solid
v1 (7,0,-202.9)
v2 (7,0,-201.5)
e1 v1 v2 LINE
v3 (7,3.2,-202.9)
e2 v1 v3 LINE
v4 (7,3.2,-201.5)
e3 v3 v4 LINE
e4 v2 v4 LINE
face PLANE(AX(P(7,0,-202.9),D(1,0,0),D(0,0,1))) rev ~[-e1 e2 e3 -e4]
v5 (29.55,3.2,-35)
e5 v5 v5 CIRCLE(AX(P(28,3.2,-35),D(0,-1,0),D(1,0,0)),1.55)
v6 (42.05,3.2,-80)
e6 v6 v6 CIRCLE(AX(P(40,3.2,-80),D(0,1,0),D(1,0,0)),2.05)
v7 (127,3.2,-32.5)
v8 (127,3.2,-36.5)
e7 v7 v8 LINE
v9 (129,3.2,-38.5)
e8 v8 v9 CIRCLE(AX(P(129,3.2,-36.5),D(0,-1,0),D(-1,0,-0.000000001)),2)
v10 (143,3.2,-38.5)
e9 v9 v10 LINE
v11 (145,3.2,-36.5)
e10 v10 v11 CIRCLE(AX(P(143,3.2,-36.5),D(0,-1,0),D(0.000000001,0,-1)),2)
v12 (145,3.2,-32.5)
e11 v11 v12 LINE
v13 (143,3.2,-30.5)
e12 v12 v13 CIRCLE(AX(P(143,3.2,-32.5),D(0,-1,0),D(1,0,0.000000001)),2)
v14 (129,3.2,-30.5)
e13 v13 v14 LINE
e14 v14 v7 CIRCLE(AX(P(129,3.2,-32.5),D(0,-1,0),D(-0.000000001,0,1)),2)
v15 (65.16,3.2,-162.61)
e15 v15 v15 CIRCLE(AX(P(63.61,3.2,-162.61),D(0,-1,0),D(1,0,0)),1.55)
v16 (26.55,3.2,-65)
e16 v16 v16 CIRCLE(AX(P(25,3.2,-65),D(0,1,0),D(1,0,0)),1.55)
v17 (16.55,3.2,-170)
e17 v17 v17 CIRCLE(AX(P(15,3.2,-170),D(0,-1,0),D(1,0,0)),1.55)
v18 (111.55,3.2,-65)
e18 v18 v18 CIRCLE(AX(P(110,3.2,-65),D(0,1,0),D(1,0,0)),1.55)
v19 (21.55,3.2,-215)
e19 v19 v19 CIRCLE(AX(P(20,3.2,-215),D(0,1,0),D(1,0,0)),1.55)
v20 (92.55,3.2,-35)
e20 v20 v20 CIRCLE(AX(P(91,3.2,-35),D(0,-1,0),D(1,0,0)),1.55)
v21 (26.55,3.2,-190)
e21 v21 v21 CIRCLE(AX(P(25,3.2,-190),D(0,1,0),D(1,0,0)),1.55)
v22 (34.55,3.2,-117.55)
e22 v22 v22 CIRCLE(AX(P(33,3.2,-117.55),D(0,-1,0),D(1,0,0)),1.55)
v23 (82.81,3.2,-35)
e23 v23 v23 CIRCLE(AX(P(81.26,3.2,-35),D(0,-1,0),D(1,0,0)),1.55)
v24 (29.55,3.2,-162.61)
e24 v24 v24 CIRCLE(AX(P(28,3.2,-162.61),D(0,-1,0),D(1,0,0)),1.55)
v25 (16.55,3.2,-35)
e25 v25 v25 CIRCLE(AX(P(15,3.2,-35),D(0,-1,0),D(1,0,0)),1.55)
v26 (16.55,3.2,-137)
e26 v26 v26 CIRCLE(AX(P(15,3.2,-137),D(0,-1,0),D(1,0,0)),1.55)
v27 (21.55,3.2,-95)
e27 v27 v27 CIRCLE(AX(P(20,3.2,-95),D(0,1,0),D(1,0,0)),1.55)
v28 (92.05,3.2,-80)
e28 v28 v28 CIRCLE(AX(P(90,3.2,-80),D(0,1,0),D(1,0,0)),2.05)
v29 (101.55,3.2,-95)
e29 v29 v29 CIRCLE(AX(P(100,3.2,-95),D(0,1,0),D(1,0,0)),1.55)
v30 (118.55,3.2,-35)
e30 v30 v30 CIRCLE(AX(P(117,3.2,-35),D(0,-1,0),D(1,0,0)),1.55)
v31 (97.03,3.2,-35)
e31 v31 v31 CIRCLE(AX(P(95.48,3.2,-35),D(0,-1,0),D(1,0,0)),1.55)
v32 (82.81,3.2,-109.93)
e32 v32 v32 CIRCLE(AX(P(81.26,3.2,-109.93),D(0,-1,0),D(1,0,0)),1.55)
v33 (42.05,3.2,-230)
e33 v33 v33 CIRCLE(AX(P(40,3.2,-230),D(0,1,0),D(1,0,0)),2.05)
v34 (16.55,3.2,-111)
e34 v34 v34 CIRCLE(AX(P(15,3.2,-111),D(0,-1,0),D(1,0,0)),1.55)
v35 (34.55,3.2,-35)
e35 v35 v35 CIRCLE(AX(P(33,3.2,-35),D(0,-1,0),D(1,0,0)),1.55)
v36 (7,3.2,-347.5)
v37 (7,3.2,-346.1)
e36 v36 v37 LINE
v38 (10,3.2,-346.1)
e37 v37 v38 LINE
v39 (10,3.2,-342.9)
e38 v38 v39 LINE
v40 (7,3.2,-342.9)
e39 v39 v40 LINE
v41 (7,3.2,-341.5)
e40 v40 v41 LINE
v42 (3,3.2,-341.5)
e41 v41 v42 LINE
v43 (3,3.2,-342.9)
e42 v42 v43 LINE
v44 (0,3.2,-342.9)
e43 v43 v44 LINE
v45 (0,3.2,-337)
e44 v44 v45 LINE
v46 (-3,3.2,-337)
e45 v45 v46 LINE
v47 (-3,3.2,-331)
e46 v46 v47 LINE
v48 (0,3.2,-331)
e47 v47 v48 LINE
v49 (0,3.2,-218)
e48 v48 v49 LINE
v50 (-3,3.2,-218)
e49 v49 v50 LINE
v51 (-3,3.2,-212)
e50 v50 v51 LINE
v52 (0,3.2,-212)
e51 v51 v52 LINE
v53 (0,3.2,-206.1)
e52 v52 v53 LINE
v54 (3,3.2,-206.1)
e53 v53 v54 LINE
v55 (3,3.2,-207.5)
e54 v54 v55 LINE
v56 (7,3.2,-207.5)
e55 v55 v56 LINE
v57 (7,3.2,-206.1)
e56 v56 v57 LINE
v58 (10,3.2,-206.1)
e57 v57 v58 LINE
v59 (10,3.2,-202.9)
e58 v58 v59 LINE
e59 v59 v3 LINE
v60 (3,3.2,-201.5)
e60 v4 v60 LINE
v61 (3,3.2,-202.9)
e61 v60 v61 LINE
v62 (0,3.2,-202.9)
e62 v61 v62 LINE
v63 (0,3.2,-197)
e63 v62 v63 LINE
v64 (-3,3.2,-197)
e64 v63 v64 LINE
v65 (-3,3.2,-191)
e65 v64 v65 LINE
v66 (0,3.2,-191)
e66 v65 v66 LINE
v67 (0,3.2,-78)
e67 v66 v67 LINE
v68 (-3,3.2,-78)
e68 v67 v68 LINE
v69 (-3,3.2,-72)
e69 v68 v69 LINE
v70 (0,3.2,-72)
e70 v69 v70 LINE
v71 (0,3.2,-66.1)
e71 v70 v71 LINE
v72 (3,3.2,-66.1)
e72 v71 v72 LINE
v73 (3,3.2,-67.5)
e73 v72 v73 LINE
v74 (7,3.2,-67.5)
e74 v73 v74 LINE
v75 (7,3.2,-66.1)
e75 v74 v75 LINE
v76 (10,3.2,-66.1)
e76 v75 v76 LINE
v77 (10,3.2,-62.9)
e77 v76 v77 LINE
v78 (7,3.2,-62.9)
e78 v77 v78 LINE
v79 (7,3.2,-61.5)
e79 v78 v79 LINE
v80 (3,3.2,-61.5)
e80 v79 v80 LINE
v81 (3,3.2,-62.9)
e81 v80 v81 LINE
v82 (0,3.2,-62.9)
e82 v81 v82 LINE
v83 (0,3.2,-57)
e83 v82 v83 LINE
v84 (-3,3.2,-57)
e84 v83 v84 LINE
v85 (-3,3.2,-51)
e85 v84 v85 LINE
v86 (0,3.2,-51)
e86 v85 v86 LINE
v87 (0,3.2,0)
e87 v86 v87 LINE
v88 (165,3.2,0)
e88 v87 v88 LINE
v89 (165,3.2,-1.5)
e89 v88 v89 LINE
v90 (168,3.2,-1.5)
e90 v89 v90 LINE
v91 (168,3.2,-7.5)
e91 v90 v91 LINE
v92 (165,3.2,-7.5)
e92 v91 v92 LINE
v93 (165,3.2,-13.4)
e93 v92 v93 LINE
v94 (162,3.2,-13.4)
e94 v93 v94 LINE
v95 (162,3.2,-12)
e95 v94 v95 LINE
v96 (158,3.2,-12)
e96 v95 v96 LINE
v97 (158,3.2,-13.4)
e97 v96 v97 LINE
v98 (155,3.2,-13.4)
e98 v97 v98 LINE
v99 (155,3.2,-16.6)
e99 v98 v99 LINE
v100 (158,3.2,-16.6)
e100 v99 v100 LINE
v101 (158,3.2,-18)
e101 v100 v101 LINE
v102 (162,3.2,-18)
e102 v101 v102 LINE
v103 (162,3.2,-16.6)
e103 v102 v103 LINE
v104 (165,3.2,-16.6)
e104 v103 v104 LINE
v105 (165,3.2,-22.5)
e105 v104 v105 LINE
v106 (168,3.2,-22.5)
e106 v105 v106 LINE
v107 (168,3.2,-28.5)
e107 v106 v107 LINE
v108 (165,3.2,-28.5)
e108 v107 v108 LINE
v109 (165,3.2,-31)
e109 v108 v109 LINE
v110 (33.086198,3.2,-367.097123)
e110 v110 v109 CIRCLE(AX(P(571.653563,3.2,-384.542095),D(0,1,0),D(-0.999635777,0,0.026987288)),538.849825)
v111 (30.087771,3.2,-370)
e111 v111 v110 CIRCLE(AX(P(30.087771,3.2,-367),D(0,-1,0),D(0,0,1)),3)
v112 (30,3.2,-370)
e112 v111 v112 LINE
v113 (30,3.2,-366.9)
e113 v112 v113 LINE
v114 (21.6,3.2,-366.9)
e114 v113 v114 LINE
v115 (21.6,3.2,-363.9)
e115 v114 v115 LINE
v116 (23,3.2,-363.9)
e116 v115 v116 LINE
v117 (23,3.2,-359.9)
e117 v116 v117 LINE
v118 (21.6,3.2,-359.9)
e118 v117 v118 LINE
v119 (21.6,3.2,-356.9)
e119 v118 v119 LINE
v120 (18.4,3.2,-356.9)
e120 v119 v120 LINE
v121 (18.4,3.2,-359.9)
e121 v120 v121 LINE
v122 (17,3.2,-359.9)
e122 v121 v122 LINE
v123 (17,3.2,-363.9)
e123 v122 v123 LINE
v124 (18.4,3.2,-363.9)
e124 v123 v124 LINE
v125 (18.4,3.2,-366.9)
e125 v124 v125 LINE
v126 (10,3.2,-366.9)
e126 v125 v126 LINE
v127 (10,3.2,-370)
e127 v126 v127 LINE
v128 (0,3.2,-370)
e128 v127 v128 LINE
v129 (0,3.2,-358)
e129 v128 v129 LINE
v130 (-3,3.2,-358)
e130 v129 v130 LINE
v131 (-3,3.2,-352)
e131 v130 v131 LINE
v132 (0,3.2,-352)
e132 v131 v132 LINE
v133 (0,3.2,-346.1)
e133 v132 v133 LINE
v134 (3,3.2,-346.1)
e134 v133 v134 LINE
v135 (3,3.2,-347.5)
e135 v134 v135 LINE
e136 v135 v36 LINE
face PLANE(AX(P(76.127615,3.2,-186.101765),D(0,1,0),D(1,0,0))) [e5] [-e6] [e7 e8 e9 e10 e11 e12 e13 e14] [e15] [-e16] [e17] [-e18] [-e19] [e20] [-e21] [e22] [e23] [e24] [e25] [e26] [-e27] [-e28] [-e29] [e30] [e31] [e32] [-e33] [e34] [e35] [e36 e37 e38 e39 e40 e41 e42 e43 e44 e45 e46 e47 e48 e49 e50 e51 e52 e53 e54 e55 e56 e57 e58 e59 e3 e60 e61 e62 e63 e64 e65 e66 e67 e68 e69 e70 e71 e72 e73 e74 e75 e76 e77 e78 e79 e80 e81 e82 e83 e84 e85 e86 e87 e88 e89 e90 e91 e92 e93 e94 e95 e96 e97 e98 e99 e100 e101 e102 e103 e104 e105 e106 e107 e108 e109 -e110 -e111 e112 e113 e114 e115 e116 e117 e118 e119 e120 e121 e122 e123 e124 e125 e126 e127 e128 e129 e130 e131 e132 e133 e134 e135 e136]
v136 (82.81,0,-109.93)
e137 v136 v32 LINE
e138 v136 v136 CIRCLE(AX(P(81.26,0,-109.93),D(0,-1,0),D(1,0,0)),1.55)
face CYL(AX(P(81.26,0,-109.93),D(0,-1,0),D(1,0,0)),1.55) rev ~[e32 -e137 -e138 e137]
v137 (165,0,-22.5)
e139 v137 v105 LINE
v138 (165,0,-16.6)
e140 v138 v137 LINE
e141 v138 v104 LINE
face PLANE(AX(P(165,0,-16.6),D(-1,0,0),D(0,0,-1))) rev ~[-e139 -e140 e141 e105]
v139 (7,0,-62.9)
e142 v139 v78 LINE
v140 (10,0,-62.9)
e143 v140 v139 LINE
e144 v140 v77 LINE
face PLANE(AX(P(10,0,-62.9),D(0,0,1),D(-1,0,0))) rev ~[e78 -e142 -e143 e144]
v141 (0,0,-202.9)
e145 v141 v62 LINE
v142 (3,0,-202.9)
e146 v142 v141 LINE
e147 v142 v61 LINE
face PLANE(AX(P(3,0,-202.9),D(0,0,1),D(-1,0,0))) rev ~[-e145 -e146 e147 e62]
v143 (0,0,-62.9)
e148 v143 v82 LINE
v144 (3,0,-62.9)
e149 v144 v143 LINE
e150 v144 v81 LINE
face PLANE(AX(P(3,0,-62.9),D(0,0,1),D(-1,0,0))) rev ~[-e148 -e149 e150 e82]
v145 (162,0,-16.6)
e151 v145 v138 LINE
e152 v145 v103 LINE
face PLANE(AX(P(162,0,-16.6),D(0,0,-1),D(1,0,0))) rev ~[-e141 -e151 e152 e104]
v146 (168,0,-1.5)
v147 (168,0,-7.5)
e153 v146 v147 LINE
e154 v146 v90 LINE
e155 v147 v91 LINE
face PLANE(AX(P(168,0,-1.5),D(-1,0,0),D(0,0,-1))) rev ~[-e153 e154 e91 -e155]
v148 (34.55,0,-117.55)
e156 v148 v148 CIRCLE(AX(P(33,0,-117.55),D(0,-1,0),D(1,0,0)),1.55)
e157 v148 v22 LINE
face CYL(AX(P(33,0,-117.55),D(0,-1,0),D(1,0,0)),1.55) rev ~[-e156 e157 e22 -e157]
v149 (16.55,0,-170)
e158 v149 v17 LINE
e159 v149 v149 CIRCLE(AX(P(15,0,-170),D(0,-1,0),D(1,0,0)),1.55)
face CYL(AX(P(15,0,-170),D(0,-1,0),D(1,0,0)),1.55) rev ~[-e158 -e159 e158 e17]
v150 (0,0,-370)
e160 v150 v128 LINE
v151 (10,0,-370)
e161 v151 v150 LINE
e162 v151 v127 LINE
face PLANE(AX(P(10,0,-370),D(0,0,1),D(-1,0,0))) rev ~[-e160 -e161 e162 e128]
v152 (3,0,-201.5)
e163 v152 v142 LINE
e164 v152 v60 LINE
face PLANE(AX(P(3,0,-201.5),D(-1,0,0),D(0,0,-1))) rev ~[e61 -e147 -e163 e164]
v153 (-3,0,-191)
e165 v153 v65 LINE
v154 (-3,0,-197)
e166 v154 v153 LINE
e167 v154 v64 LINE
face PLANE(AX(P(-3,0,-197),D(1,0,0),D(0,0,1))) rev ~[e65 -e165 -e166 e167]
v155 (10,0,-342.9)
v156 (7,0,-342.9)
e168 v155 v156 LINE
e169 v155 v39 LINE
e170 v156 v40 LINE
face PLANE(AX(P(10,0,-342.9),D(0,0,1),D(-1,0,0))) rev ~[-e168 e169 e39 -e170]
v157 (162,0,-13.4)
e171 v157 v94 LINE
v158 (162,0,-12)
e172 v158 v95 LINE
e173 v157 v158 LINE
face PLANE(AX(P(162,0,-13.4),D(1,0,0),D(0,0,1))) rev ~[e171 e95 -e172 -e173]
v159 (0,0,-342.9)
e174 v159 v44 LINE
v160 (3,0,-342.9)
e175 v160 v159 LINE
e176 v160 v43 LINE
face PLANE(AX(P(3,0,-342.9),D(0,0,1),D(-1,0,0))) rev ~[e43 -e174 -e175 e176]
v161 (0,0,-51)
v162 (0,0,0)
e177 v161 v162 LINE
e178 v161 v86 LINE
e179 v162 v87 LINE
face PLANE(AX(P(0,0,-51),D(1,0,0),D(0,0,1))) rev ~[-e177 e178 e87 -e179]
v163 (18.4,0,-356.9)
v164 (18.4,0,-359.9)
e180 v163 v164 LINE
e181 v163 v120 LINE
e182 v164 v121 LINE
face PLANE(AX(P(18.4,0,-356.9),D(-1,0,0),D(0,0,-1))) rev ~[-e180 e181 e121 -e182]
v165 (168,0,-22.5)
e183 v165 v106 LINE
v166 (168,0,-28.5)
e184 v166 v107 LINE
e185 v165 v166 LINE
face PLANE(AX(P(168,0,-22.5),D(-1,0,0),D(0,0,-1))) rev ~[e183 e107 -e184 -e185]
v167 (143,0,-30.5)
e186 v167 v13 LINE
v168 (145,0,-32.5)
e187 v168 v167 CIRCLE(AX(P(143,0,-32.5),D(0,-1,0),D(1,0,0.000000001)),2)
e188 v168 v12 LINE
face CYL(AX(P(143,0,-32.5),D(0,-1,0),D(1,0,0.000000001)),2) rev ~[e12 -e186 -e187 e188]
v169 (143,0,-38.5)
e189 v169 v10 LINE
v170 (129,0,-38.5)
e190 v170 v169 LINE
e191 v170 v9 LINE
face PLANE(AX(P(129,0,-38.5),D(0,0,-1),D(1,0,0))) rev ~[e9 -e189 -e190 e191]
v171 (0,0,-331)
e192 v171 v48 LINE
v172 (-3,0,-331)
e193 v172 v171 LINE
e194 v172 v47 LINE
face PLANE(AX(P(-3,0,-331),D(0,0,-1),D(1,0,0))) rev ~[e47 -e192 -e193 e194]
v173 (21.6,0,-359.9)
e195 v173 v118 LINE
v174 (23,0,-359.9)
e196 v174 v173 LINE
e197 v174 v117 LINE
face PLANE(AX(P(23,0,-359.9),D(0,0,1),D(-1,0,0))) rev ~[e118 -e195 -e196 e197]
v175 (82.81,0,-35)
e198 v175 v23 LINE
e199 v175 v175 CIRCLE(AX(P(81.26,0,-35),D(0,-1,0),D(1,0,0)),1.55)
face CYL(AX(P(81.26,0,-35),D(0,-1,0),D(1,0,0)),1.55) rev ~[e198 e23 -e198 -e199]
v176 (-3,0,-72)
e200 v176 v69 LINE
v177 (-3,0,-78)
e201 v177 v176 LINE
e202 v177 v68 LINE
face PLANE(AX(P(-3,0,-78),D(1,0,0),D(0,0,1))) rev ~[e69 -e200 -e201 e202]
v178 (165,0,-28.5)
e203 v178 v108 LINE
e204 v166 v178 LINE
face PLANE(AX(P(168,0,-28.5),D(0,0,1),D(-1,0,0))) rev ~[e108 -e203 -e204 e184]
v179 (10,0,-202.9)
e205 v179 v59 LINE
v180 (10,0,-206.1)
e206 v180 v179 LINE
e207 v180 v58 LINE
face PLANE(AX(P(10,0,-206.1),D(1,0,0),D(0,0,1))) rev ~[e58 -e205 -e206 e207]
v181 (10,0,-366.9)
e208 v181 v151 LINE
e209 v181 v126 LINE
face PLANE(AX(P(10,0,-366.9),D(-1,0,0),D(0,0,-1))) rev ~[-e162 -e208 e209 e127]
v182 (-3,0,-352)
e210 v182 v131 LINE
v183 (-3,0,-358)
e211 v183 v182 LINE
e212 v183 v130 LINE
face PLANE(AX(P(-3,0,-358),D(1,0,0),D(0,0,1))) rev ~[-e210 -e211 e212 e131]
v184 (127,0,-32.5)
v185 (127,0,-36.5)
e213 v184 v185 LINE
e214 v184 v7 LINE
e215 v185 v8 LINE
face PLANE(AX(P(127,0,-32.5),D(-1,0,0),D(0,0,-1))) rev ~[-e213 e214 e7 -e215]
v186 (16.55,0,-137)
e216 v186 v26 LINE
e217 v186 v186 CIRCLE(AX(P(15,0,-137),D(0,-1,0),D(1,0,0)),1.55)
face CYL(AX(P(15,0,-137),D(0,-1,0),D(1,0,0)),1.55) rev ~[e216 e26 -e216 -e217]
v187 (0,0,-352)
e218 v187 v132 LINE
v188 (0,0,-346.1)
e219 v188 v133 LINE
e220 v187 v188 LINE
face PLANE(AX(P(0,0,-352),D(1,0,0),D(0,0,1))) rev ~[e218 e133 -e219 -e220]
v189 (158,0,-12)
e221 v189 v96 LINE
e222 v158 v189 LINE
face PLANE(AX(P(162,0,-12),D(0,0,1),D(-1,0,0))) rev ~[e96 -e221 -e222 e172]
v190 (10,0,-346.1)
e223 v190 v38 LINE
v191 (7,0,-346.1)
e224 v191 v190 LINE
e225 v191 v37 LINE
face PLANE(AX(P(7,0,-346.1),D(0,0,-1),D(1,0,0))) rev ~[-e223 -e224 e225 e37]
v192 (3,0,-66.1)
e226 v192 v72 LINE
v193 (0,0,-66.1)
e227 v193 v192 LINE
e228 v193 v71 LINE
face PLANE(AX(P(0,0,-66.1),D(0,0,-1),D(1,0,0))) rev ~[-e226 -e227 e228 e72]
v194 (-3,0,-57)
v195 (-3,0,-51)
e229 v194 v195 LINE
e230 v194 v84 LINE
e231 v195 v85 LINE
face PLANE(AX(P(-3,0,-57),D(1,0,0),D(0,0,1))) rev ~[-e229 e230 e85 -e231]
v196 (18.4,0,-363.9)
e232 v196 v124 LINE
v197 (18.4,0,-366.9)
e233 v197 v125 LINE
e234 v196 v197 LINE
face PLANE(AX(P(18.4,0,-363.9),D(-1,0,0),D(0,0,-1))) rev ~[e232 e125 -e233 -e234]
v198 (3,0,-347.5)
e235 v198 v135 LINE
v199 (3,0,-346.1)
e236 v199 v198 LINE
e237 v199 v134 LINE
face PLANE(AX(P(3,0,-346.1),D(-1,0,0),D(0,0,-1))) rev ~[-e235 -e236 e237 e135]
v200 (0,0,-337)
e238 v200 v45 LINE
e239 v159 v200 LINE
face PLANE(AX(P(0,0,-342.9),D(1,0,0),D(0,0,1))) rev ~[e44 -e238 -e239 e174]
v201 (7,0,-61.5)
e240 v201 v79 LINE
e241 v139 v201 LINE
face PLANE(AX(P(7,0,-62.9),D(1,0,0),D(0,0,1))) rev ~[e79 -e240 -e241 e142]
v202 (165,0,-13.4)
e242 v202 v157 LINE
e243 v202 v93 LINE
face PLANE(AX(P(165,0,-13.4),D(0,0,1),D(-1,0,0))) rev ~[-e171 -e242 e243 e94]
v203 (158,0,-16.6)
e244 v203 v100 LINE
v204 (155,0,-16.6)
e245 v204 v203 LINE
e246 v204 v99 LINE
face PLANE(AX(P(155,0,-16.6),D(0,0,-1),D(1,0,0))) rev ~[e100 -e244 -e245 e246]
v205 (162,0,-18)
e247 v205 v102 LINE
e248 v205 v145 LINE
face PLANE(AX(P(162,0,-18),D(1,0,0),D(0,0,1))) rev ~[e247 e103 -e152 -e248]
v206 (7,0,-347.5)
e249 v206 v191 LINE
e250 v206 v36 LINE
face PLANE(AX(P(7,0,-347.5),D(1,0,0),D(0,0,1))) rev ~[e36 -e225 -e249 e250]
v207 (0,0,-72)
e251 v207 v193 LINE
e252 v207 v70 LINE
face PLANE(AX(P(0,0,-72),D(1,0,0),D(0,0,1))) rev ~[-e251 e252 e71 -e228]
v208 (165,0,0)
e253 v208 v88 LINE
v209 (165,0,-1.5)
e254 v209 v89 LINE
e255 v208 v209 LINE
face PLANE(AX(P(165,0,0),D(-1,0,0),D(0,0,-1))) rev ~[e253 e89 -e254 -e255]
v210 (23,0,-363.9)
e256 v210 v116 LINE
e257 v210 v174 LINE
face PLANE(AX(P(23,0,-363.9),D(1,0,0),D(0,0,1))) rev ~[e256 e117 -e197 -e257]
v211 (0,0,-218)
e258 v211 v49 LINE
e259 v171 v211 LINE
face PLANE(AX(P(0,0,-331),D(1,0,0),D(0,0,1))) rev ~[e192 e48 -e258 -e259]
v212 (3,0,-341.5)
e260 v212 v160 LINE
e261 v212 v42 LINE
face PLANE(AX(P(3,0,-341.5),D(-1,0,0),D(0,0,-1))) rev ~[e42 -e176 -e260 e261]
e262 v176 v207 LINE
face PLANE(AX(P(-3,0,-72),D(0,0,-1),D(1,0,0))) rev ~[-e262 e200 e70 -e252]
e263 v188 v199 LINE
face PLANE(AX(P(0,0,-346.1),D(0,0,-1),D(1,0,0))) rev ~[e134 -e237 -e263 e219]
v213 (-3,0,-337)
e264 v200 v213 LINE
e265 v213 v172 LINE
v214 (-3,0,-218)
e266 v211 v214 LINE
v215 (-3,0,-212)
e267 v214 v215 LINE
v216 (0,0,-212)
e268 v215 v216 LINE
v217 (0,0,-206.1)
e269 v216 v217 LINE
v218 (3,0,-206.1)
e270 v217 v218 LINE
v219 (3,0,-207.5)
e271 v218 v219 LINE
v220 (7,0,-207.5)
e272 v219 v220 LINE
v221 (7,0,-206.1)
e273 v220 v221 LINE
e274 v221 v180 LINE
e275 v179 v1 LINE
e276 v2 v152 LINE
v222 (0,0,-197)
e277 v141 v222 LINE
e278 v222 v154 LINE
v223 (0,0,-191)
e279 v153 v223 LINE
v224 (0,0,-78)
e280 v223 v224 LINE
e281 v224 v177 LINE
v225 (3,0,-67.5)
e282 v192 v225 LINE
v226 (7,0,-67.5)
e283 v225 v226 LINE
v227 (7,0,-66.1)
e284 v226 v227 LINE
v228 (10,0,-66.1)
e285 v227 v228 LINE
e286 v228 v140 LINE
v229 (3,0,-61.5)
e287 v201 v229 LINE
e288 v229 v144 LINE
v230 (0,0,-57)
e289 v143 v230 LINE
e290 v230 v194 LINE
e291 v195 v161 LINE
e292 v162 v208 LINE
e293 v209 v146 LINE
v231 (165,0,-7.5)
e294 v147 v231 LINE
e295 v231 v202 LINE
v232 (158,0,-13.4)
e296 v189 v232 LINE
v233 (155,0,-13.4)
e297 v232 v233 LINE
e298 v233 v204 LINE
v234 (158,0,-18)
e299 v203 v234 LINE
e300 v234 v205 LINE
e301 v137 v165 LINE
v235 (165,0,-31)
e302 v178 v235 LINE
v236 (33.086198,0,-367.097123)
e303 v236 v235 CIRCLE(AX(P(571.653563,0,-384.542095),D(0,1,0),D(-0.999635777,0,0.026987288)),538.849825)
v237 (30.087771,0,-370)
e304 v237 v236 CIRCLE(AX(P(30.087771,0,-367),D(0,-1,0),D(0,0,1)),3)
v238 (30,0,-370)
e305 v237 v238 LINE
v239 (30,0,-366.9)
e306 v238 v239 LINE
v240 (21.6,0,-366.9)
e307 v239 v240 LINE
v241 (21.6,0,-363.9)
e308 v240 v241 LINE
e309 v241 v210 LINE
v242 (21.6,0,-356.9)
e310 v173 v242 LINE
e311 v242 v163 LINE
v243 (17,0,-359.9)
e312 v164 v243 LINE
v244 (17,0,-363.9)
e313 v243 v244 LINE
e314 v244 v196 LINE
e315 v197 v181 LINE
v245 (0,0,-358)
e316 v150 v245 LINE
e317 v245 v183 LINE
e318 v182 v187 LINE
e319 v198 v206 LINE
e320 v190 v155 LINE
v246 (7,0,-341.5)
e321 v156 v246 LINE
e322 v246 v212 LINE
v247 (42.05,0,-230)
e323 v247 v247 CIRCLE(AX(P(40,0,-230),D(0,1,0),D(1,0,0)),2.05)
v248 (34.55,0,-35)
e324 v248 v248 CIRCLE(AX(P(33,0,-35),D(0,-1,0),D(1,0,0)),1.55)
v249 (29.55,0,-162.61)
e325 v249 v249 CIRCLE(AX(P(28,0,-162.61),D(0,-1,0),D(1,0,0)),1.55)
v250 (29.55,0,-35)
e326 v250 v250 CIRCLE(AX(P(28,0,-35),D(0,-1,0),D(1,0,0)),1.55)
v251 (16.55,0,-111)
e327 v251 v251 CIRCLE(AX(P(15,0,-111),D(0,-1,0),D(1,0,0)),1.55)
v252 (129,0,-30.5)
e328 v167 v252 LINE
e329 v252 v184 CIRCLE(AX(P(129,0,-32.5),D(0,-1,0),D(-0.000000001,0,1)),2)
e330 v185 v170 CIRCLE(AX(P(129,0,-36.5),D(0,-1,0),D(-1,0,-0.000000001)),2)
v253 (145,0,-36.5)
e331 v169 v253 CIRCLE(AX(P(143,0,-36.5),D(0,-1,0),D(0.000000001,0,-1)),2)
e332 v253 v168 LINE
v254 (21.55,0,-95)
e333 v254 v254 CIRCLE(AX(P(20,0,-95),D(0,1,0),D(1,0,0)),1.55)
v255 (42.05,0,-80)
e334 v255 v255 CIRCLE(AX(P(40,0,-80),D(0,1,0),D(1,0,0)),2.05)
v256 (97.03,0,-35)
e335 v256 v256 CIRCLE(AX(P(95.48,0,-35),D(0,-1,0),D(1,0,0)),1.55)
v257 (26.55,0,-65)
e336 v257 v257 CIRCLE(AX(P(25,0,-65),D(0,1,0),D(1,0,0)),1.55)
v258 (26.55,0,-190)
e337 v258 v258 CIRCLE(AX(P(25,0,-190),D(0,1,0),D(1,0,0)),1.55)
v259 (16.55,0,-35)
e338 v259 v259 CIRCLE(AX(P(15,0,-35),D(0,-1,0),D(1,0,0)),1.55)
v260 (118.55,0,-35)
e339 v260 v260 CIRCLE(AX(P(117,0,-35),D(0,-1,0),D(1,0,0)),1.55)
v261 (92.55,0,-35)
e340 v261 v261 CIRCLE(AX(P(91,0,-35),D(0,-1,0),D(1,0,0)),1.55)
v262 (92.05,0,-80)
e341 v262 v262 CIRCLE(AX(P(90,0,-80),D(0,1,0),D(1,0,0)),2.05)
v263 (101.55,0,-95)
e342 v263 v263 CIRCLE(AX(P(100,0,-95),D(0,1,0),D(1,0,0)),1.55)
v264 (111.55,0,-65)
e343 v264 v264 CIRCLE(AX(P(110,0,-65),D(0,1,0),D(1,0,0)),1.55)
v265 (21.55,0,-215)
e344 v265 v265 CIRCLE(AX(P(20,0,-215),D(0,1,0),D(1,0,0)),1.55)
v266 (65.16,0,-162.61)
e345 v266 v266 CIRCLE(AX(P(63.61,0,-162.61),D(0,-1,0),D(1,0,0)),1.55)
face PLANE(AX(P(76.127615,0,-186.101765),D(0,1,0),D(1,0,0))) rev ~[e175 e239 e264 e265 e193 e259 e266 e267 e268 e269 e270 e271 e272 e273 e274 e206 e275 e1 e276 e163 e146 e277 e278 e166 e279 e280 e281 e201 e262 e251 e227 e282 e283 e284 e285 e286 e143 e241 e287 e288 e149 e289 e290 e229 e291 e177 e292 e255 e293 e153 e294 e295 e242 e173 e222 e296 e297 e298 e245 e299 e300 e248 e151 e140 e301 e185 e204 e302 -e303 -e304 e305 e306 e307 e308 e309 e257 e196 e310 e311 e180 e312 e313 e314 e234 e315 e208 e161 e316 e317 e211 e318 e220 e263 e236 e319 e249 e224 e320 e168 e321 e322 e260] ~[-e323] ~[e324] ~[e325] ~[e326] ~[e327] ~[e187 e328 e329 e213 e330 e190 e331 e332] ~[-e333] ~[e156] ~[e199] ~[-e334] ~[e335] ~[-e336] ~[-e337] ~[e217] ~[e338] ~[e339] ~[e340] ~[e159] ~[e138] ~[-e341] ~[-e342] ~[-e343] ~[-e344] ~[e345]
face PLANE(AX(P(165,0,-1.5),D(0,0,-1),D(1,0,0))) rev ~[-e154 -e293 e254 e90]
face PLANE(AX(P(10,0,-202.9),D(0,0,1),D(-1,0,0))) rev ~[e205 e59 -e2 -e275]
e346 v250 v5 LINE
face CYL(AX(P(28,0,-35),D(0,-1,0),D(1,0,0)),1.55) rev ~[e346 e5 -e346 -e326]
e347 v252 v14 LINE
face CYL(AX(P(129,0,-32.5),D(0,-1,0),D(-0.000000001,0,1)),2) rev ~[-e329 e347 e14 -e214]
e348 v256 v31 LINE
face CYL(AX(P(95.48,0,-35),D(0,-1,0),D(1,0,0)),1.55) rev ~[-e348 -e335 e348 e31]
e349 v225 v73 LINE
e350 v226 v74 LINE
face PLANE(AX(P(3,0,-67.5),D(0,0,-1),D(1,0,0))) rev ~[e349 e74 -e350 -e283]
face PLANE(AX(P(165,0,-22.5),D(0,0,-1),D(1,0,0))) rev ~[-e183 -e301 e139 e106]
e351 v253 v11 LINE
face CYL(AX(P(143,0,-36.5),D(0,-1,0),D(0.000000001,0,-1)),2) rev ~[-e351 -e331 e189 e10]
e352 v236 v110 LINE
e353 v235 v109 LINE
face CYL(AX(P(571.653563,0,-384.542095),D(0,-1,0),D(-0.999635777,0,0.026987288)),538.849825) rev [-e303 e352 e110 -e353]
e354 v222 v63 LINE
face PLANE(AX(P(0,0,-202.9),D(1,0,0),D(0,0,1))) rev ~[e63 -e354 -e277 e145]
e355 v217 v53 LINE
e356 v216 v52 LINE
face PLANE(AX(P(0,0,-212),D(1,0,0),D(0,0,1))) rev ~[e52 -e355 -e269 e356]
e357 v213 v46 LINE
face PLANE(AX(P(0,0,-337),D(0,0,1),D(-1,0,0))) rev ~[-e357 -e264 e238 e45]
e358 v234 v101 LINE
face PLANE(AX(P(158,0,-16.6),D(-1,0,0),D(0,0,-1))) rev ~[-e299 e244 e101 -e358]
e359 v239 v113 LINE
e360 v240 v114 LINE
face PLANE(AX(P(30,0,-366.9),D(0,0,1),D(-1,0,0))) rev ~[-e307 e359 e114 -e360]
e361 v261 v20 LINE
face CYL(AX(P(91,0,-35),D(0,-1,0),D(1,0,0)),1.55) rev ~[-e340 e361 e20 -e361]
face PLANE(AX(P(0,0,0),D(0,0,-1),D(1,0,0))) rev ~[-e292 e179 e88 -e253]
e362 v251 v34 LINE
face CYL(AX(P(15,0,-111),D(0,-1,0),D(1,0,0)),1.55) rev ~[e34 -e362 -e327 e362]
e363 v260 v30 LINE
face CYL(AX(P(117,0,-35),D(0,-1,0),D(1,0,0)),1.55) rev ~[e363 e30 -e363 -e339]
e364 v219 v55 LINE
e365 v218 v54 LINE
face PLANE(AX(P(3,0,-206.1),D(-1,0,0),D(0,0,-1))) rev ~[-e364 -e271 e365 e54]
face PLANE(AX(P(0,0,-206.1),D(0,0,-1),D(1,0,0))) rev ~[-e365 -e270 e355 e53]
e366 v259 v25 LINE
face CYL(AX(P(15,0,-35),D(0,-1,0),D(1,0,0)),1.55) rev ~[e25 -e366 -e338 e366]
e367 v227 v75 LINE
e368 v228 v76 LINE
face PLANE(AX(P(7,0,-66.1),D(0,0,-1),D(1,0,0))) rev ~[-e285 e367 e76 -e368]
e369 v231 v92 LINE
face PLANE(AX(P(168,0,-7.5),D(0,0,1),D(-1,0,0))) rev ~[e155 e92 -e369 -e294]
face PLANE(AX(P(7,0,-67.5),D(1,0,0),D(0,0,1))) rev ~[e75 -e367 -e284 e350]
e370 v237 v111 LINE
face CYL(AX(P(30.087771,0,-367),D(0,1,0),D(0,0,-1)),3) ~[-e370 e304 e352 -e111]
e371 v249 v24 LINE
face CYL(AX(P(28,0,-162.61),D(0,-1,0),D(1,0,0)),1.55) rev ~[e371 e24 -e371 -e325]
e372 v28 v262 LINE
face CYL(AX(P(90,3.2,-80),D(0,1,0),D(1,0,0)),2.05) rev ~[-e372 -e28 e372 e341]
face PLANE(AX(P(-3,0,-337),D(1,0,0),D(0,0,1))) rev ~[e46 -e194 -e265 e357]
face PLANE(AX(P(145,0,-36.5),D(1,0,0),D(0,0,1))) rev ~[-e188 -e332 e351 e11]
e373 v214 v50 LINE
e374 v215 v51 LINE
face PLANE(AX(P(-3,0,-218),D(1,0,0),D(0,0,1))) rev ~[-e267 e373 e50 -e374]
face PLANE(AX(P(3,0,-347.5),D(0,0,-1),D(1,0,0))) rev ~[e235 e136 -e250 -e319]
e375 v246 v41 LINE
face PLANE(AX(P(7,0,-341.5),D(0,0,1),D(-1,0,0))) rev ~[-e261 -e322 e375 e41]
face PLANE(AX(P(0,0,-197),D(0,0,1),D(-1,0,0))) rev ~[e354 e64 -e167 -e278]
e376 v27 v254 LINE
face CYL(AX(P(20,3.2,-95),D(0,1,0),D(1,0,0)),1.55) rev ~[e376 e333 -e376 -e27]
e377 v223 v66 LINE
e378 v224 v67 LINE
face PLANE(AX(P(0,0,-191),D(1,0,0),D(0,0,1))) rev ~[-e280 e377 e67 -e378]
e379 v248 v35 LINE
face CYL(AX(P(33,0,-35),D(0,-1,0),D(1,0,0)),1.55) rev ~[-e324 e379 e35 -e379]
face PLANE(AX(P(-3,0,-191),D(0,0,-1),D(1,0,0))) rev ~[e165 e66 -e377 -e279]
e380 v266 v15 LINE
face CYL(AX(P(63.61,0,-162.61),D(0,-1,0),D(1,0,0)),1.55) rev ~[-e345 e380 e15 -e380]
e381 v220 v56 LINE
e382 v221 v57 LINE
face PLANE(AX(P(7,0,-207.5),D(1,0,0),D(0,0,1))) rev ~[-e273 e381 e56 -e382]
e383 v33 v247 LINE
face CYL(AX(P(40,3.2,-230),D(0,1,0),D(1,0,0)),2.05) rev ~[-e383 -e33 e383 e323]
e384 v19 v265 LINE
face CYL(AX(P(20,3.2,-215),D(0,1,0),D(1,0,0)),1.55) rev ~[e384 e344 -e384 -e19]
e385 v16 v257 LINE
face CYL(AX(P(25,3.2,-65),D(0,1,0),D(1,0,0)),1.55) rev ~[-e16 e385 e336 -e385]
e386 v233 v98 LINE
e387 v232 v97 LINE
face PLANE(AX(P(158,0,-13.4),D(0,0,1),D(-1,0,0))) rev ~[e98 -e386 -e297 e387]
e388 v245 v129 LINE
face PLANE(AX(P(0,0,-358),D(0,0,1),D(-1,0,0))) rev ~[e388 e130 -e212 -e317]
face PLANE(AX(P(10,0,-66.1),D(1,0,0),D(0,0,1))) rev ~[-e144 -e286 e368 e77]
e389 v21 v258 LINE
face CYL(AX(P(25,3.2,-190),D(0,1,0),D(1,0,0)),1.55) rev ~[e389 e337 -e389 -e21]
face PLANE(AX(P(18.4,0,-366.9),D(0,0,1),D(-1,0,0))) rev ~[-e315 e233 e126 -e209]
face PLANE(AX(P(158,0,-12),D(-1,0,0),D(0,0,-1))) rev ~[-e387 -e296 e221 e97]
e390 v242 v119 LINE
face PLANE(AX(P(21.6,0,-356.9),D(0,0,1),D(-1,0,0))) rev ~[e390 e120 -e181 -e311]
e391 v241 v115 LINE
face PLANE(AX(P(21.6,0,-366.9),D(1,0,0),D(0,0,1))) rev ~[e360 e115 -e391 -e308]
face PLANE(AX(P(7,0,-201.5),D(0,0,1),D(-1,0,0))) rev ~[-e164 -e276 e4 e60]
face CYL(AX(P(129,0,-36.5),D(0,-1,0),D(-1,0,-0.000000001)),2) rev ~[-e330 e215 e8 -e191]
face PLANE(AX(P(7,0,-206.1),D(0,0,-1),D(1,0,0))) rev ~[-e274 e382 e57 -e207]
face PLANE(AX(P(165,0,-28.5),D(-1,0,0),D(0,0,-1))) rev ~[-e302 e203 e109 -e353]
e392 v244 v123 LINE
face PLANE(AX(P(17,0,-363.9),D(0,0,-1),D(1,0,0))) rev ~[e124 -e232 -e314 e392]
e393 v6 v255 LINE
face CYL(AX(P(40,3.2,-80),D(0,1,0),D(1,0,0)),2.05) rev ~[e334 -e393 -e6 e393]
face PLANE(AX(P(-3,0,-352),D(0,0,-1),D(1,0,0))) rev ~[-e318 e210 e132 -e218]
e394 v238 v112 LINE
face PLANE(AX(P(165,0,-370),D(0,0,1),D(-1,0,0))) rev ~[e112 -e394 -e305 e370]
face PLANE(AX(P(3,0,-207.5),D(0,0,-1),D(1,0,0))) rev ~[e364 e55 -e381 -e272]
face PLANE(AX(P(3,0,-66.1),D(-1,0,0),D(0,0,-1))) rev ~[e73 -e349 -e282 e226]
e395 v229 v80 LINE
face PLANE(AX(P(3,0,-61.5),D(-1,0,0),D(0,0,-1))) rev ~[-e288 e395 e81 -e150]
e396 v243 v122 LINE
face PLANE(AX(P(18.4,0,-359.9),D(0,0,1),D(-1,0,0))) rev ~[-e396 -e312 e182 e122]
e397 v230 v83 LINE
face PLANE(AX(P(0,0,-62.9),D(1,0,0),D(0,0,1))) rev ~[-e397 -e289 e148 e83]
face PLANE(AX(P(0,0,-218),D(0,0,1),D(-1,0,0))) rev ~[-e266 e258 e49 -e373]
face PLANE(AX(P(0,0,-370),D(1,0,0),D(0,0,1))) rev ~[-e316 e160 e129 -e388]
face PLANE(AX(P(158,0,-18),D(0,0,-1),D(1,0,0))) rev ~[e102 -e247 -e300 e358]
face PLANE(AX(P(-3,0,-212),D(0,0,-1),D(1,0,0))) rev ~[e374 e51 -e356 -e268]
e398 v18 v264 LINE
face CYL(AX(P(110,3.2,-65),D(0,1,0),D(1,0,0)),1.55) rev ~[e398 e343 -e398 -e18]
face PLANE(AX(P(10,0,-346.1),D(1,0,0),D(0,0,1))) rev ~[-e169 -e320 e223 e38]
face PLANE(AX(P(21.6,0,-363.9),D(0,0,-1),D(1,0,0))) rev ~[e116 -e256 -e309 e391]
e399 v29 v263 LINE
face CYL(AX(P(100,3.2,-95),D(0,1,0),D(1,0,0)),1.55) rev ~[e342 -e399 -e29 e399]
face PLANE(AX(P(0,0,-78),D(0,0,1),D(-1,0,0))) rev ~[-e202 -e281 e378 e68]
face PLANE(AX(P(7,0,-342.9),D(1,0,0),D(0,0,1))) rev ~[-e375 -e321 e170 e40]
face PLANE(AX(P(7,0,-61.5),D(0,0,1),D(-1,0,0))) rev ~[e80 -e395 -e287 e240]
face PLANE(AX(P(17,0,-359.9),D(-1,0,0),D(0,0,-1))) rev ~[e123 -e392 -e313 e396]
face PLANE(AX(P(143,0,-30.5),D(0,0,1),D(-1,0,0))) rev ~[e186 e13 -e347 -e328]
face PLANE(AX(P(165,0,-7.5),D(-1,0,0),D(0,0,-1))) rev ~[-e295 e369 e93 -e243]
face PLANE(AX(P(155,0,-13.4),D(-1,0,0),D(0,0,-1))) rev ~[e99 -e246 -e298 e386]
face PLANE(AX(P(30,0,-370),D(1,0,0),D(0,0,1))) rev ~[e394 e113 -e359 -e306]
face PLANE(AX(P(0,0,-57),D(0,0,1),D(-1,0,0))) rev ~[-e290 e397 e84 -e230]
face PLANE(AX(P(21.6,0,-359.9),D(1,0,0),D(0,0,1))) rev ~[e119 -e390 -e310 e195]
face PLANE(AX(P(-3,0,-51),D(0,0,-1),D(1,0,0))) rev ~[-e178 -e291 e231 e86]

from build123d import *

# Parameters (mm, degrees)
SALIENTE_EXTRUIR1_DEPTH = 3.2
CORTAR_EXTRUIR1_DEPTH   = 3.2
REDONDEO1_R             = 3
CROQUIS3_R              = 2.05
CROQUIS3_R_2            = 1.55
CORTAR_EXTRUIR2_DEPTH   = 3.2
CROQUIS4_R              = 1.55
CORTAR_EXTRUIR3_DEPTH   = 3.2


with BuildPart() as part:
    # Croquis1 → Saliente-Extruir1 (new body)
    with BuildSketch(Plane(origin=(0, 0, 0), x_dir=(1, 0, 0), z_dir=(0, 1, 0))):
        Polygon((7, 66.1), (10, 66.1), (10, 62.9), (7, 62.9), (7, 61.5), (3, 61.5), (3, 62.9), (0, 62.9), (0, 57), (-3, 57), (-3, 51), (0, 51), (0, 0), (165, 0), (165, 1.5), (168, 1.5), (168, 7.5), (165, 7.5), (165, 13.4), (162, 13.4), (162, 12), (158, 12), (158, 13.4), (155, 13.4), (155, 16.6), (158, 16.6), (158, 18), (162, 18), (162, 16.6), (165, 16.6), (165, 22.5), (168, 22.5), (168, 28.5), (165, 28.5), (165, 370), (30, 370), (30, 366.9), (21.6, 366.9), (21.6, 363.9), (23, 363.9), (23, 359.9), (21.6, 359.9), (21.6, 356.9), (18.4, 356.9), (18.4, 359.9), (17, 359.9), (17, 363.9), (18.4, 363.9), (18.4, 366.9), (10, 366.9), (10, 370), (0, 370), (0, 358), (-3, 358), (-3, 352), (0, 352), (0, 346.1), (3, 346.1), (3, 347.5), (7, 347.5), (7, 346.1), (10, 346.1), (10, 342.9), (7, 342.9), (7, 341.5), (3, 341.5), (3, 342.9), (0, 342.9), (0, 337), (-3, 337), (-3, 331), (0, 331), (0, 218), (-3, 218), (-3, 212), (0, 212), (0, 206.1), (3, 206.1), (3, 207.5), (7, 207.5), (7, 206.1), (10, 206.1), (10, 202.9), (7, 202.9), (7, 201.5), (3, 201.5), (3, 202.9), (0, 202.9), (0, 197), (-3, 197), (-3, 191), (0, 191), (0, 78), (-3, 78), (-3, 72), (0, 72), (0, 66.1), (3, 66.1), (3, 67.5), (7, 67.5), align=None)
    extrude(amount=SALIENTE_EXTRUIR1_DEPTH)

    # Croquis2 → Cortar-Extruir1 (cut)
    with BuildSketch(Plane.XZ):
        with BuildLine():
            Line((165, -370), (33, -370))
            ThreePointArc((33, -370), (69.526447022, -189.023572292), (165, -31))
            Line((165, -31), (165, -370))
        make_face()
    extrude(amount=-CORTAR_EXTRUIR1_DEPTH, mode=Mode.SUBTRACT)

    # Redondeo1
    redondeo1_edges = [part.edges().sort_by_distance(p)[0] for p in [
        (33, 1.6, -370),
    ]]
    fillet(redondeo1_edges, radius=REDONDEO1_R)

    # Croquis3 → Cortar-Extruir2 (cut)
    with BuildSketch(Plane(origin=(0, 3.2, 0), x_dir=(1, 0, 0), z_dir=(0, 1, 0))):
        with Locations((40, 80)):
            Circle(CROQUIS3_R)
        with Locations((90, 80)):
            Circle(CROQUIS3_R)
        with Locations((40, 230)):
            Circle(CROQUIS3_R)
        with Locations((20, 95)):
            Circle(CROQUIS3_R_2)
        with Locations((20, 215)):
            Circle(CROQUIS3_R_2)
        with Locations((100, 95)):
            Circle(CROQUIS3_R_2)
        with Locations((25, 65)):
            Circle(CROQUIS3_R_2)
        with Locations((25, 190)):
            Circle(CROQUIS3_R_2)
        with Locations((110, 65)):
            Circle(CROQUIS3_R_2)
    extrude(amount=-CORTAR_EXTRUIR2_DEPTH, mode=Mode.SUBTRACT)

    # Croquis4 → Cortar-Extruir3 (cut)
    with BuildSketch(Plane.XZ):
        with Locations((15, -35)):
            Circle(CROQUIS4_R)
        with Locations((91, -35)):
            Circle(CROQUIS4_R)
        with Locations((15, -137)):
            Circle(CROQUIS4_R)
        with Locations((15, -170)):
            Circle(CROQUIS4_R)
        with Locations((33, -35)):
            Circle(CROQUIS4_R)
        with Locations((81.26, -35)):
            Circle(CROQUIS4_R)
        with Locations((33, -117.55)):
            Circle(CROQUIS4_R)
        with Locations((81.26, -109.93)):
            Circle(CROQUIS4_R)
        with Locations((28, -35)):
            Circle(CROQUIS4_R)
        with Locations((95.48, -35)):
            Circle(CROQUIS4_R)
        with Locations((28, -162.61)):
            Circle(CROQUIS4_R)
        with Locations((63.61, -162.61)):
            Circle(CROQUIS4_R)
        with Locations((117, -35)):
            Circle(CROQUIS4_R)
        with Locations((15, -111)):
            Circle(CROQUIS4_R)
        with BuildLine():
            Line((143, -30.5), (129, -30.5))
            ThreePointArc((129, -30.5), (127.585786438, -31.085786438), (127, -32.5))
            Line((127, -32.5), (127, -36.5))
            ThreePointArc((127, -36.5), (127.585786438, -37.914213562), (129, -38.5))
            Line((129, -38.5), (143, -38.5))
            ThreePointArc((143, -38.5), (144.414213562, -37.914213562), (145, -36.5))
            Line((145, -36.5), (145, -32.5))
            ThreePointArc((145, -32.5), (144.414213562, -31.085786438), (143, -30.5))
        make_face()
    extrude(amount=-CORTAR_EXTRUIR3_DEPTH, mode=Mode.SUBTRACT)


solid = part.part
